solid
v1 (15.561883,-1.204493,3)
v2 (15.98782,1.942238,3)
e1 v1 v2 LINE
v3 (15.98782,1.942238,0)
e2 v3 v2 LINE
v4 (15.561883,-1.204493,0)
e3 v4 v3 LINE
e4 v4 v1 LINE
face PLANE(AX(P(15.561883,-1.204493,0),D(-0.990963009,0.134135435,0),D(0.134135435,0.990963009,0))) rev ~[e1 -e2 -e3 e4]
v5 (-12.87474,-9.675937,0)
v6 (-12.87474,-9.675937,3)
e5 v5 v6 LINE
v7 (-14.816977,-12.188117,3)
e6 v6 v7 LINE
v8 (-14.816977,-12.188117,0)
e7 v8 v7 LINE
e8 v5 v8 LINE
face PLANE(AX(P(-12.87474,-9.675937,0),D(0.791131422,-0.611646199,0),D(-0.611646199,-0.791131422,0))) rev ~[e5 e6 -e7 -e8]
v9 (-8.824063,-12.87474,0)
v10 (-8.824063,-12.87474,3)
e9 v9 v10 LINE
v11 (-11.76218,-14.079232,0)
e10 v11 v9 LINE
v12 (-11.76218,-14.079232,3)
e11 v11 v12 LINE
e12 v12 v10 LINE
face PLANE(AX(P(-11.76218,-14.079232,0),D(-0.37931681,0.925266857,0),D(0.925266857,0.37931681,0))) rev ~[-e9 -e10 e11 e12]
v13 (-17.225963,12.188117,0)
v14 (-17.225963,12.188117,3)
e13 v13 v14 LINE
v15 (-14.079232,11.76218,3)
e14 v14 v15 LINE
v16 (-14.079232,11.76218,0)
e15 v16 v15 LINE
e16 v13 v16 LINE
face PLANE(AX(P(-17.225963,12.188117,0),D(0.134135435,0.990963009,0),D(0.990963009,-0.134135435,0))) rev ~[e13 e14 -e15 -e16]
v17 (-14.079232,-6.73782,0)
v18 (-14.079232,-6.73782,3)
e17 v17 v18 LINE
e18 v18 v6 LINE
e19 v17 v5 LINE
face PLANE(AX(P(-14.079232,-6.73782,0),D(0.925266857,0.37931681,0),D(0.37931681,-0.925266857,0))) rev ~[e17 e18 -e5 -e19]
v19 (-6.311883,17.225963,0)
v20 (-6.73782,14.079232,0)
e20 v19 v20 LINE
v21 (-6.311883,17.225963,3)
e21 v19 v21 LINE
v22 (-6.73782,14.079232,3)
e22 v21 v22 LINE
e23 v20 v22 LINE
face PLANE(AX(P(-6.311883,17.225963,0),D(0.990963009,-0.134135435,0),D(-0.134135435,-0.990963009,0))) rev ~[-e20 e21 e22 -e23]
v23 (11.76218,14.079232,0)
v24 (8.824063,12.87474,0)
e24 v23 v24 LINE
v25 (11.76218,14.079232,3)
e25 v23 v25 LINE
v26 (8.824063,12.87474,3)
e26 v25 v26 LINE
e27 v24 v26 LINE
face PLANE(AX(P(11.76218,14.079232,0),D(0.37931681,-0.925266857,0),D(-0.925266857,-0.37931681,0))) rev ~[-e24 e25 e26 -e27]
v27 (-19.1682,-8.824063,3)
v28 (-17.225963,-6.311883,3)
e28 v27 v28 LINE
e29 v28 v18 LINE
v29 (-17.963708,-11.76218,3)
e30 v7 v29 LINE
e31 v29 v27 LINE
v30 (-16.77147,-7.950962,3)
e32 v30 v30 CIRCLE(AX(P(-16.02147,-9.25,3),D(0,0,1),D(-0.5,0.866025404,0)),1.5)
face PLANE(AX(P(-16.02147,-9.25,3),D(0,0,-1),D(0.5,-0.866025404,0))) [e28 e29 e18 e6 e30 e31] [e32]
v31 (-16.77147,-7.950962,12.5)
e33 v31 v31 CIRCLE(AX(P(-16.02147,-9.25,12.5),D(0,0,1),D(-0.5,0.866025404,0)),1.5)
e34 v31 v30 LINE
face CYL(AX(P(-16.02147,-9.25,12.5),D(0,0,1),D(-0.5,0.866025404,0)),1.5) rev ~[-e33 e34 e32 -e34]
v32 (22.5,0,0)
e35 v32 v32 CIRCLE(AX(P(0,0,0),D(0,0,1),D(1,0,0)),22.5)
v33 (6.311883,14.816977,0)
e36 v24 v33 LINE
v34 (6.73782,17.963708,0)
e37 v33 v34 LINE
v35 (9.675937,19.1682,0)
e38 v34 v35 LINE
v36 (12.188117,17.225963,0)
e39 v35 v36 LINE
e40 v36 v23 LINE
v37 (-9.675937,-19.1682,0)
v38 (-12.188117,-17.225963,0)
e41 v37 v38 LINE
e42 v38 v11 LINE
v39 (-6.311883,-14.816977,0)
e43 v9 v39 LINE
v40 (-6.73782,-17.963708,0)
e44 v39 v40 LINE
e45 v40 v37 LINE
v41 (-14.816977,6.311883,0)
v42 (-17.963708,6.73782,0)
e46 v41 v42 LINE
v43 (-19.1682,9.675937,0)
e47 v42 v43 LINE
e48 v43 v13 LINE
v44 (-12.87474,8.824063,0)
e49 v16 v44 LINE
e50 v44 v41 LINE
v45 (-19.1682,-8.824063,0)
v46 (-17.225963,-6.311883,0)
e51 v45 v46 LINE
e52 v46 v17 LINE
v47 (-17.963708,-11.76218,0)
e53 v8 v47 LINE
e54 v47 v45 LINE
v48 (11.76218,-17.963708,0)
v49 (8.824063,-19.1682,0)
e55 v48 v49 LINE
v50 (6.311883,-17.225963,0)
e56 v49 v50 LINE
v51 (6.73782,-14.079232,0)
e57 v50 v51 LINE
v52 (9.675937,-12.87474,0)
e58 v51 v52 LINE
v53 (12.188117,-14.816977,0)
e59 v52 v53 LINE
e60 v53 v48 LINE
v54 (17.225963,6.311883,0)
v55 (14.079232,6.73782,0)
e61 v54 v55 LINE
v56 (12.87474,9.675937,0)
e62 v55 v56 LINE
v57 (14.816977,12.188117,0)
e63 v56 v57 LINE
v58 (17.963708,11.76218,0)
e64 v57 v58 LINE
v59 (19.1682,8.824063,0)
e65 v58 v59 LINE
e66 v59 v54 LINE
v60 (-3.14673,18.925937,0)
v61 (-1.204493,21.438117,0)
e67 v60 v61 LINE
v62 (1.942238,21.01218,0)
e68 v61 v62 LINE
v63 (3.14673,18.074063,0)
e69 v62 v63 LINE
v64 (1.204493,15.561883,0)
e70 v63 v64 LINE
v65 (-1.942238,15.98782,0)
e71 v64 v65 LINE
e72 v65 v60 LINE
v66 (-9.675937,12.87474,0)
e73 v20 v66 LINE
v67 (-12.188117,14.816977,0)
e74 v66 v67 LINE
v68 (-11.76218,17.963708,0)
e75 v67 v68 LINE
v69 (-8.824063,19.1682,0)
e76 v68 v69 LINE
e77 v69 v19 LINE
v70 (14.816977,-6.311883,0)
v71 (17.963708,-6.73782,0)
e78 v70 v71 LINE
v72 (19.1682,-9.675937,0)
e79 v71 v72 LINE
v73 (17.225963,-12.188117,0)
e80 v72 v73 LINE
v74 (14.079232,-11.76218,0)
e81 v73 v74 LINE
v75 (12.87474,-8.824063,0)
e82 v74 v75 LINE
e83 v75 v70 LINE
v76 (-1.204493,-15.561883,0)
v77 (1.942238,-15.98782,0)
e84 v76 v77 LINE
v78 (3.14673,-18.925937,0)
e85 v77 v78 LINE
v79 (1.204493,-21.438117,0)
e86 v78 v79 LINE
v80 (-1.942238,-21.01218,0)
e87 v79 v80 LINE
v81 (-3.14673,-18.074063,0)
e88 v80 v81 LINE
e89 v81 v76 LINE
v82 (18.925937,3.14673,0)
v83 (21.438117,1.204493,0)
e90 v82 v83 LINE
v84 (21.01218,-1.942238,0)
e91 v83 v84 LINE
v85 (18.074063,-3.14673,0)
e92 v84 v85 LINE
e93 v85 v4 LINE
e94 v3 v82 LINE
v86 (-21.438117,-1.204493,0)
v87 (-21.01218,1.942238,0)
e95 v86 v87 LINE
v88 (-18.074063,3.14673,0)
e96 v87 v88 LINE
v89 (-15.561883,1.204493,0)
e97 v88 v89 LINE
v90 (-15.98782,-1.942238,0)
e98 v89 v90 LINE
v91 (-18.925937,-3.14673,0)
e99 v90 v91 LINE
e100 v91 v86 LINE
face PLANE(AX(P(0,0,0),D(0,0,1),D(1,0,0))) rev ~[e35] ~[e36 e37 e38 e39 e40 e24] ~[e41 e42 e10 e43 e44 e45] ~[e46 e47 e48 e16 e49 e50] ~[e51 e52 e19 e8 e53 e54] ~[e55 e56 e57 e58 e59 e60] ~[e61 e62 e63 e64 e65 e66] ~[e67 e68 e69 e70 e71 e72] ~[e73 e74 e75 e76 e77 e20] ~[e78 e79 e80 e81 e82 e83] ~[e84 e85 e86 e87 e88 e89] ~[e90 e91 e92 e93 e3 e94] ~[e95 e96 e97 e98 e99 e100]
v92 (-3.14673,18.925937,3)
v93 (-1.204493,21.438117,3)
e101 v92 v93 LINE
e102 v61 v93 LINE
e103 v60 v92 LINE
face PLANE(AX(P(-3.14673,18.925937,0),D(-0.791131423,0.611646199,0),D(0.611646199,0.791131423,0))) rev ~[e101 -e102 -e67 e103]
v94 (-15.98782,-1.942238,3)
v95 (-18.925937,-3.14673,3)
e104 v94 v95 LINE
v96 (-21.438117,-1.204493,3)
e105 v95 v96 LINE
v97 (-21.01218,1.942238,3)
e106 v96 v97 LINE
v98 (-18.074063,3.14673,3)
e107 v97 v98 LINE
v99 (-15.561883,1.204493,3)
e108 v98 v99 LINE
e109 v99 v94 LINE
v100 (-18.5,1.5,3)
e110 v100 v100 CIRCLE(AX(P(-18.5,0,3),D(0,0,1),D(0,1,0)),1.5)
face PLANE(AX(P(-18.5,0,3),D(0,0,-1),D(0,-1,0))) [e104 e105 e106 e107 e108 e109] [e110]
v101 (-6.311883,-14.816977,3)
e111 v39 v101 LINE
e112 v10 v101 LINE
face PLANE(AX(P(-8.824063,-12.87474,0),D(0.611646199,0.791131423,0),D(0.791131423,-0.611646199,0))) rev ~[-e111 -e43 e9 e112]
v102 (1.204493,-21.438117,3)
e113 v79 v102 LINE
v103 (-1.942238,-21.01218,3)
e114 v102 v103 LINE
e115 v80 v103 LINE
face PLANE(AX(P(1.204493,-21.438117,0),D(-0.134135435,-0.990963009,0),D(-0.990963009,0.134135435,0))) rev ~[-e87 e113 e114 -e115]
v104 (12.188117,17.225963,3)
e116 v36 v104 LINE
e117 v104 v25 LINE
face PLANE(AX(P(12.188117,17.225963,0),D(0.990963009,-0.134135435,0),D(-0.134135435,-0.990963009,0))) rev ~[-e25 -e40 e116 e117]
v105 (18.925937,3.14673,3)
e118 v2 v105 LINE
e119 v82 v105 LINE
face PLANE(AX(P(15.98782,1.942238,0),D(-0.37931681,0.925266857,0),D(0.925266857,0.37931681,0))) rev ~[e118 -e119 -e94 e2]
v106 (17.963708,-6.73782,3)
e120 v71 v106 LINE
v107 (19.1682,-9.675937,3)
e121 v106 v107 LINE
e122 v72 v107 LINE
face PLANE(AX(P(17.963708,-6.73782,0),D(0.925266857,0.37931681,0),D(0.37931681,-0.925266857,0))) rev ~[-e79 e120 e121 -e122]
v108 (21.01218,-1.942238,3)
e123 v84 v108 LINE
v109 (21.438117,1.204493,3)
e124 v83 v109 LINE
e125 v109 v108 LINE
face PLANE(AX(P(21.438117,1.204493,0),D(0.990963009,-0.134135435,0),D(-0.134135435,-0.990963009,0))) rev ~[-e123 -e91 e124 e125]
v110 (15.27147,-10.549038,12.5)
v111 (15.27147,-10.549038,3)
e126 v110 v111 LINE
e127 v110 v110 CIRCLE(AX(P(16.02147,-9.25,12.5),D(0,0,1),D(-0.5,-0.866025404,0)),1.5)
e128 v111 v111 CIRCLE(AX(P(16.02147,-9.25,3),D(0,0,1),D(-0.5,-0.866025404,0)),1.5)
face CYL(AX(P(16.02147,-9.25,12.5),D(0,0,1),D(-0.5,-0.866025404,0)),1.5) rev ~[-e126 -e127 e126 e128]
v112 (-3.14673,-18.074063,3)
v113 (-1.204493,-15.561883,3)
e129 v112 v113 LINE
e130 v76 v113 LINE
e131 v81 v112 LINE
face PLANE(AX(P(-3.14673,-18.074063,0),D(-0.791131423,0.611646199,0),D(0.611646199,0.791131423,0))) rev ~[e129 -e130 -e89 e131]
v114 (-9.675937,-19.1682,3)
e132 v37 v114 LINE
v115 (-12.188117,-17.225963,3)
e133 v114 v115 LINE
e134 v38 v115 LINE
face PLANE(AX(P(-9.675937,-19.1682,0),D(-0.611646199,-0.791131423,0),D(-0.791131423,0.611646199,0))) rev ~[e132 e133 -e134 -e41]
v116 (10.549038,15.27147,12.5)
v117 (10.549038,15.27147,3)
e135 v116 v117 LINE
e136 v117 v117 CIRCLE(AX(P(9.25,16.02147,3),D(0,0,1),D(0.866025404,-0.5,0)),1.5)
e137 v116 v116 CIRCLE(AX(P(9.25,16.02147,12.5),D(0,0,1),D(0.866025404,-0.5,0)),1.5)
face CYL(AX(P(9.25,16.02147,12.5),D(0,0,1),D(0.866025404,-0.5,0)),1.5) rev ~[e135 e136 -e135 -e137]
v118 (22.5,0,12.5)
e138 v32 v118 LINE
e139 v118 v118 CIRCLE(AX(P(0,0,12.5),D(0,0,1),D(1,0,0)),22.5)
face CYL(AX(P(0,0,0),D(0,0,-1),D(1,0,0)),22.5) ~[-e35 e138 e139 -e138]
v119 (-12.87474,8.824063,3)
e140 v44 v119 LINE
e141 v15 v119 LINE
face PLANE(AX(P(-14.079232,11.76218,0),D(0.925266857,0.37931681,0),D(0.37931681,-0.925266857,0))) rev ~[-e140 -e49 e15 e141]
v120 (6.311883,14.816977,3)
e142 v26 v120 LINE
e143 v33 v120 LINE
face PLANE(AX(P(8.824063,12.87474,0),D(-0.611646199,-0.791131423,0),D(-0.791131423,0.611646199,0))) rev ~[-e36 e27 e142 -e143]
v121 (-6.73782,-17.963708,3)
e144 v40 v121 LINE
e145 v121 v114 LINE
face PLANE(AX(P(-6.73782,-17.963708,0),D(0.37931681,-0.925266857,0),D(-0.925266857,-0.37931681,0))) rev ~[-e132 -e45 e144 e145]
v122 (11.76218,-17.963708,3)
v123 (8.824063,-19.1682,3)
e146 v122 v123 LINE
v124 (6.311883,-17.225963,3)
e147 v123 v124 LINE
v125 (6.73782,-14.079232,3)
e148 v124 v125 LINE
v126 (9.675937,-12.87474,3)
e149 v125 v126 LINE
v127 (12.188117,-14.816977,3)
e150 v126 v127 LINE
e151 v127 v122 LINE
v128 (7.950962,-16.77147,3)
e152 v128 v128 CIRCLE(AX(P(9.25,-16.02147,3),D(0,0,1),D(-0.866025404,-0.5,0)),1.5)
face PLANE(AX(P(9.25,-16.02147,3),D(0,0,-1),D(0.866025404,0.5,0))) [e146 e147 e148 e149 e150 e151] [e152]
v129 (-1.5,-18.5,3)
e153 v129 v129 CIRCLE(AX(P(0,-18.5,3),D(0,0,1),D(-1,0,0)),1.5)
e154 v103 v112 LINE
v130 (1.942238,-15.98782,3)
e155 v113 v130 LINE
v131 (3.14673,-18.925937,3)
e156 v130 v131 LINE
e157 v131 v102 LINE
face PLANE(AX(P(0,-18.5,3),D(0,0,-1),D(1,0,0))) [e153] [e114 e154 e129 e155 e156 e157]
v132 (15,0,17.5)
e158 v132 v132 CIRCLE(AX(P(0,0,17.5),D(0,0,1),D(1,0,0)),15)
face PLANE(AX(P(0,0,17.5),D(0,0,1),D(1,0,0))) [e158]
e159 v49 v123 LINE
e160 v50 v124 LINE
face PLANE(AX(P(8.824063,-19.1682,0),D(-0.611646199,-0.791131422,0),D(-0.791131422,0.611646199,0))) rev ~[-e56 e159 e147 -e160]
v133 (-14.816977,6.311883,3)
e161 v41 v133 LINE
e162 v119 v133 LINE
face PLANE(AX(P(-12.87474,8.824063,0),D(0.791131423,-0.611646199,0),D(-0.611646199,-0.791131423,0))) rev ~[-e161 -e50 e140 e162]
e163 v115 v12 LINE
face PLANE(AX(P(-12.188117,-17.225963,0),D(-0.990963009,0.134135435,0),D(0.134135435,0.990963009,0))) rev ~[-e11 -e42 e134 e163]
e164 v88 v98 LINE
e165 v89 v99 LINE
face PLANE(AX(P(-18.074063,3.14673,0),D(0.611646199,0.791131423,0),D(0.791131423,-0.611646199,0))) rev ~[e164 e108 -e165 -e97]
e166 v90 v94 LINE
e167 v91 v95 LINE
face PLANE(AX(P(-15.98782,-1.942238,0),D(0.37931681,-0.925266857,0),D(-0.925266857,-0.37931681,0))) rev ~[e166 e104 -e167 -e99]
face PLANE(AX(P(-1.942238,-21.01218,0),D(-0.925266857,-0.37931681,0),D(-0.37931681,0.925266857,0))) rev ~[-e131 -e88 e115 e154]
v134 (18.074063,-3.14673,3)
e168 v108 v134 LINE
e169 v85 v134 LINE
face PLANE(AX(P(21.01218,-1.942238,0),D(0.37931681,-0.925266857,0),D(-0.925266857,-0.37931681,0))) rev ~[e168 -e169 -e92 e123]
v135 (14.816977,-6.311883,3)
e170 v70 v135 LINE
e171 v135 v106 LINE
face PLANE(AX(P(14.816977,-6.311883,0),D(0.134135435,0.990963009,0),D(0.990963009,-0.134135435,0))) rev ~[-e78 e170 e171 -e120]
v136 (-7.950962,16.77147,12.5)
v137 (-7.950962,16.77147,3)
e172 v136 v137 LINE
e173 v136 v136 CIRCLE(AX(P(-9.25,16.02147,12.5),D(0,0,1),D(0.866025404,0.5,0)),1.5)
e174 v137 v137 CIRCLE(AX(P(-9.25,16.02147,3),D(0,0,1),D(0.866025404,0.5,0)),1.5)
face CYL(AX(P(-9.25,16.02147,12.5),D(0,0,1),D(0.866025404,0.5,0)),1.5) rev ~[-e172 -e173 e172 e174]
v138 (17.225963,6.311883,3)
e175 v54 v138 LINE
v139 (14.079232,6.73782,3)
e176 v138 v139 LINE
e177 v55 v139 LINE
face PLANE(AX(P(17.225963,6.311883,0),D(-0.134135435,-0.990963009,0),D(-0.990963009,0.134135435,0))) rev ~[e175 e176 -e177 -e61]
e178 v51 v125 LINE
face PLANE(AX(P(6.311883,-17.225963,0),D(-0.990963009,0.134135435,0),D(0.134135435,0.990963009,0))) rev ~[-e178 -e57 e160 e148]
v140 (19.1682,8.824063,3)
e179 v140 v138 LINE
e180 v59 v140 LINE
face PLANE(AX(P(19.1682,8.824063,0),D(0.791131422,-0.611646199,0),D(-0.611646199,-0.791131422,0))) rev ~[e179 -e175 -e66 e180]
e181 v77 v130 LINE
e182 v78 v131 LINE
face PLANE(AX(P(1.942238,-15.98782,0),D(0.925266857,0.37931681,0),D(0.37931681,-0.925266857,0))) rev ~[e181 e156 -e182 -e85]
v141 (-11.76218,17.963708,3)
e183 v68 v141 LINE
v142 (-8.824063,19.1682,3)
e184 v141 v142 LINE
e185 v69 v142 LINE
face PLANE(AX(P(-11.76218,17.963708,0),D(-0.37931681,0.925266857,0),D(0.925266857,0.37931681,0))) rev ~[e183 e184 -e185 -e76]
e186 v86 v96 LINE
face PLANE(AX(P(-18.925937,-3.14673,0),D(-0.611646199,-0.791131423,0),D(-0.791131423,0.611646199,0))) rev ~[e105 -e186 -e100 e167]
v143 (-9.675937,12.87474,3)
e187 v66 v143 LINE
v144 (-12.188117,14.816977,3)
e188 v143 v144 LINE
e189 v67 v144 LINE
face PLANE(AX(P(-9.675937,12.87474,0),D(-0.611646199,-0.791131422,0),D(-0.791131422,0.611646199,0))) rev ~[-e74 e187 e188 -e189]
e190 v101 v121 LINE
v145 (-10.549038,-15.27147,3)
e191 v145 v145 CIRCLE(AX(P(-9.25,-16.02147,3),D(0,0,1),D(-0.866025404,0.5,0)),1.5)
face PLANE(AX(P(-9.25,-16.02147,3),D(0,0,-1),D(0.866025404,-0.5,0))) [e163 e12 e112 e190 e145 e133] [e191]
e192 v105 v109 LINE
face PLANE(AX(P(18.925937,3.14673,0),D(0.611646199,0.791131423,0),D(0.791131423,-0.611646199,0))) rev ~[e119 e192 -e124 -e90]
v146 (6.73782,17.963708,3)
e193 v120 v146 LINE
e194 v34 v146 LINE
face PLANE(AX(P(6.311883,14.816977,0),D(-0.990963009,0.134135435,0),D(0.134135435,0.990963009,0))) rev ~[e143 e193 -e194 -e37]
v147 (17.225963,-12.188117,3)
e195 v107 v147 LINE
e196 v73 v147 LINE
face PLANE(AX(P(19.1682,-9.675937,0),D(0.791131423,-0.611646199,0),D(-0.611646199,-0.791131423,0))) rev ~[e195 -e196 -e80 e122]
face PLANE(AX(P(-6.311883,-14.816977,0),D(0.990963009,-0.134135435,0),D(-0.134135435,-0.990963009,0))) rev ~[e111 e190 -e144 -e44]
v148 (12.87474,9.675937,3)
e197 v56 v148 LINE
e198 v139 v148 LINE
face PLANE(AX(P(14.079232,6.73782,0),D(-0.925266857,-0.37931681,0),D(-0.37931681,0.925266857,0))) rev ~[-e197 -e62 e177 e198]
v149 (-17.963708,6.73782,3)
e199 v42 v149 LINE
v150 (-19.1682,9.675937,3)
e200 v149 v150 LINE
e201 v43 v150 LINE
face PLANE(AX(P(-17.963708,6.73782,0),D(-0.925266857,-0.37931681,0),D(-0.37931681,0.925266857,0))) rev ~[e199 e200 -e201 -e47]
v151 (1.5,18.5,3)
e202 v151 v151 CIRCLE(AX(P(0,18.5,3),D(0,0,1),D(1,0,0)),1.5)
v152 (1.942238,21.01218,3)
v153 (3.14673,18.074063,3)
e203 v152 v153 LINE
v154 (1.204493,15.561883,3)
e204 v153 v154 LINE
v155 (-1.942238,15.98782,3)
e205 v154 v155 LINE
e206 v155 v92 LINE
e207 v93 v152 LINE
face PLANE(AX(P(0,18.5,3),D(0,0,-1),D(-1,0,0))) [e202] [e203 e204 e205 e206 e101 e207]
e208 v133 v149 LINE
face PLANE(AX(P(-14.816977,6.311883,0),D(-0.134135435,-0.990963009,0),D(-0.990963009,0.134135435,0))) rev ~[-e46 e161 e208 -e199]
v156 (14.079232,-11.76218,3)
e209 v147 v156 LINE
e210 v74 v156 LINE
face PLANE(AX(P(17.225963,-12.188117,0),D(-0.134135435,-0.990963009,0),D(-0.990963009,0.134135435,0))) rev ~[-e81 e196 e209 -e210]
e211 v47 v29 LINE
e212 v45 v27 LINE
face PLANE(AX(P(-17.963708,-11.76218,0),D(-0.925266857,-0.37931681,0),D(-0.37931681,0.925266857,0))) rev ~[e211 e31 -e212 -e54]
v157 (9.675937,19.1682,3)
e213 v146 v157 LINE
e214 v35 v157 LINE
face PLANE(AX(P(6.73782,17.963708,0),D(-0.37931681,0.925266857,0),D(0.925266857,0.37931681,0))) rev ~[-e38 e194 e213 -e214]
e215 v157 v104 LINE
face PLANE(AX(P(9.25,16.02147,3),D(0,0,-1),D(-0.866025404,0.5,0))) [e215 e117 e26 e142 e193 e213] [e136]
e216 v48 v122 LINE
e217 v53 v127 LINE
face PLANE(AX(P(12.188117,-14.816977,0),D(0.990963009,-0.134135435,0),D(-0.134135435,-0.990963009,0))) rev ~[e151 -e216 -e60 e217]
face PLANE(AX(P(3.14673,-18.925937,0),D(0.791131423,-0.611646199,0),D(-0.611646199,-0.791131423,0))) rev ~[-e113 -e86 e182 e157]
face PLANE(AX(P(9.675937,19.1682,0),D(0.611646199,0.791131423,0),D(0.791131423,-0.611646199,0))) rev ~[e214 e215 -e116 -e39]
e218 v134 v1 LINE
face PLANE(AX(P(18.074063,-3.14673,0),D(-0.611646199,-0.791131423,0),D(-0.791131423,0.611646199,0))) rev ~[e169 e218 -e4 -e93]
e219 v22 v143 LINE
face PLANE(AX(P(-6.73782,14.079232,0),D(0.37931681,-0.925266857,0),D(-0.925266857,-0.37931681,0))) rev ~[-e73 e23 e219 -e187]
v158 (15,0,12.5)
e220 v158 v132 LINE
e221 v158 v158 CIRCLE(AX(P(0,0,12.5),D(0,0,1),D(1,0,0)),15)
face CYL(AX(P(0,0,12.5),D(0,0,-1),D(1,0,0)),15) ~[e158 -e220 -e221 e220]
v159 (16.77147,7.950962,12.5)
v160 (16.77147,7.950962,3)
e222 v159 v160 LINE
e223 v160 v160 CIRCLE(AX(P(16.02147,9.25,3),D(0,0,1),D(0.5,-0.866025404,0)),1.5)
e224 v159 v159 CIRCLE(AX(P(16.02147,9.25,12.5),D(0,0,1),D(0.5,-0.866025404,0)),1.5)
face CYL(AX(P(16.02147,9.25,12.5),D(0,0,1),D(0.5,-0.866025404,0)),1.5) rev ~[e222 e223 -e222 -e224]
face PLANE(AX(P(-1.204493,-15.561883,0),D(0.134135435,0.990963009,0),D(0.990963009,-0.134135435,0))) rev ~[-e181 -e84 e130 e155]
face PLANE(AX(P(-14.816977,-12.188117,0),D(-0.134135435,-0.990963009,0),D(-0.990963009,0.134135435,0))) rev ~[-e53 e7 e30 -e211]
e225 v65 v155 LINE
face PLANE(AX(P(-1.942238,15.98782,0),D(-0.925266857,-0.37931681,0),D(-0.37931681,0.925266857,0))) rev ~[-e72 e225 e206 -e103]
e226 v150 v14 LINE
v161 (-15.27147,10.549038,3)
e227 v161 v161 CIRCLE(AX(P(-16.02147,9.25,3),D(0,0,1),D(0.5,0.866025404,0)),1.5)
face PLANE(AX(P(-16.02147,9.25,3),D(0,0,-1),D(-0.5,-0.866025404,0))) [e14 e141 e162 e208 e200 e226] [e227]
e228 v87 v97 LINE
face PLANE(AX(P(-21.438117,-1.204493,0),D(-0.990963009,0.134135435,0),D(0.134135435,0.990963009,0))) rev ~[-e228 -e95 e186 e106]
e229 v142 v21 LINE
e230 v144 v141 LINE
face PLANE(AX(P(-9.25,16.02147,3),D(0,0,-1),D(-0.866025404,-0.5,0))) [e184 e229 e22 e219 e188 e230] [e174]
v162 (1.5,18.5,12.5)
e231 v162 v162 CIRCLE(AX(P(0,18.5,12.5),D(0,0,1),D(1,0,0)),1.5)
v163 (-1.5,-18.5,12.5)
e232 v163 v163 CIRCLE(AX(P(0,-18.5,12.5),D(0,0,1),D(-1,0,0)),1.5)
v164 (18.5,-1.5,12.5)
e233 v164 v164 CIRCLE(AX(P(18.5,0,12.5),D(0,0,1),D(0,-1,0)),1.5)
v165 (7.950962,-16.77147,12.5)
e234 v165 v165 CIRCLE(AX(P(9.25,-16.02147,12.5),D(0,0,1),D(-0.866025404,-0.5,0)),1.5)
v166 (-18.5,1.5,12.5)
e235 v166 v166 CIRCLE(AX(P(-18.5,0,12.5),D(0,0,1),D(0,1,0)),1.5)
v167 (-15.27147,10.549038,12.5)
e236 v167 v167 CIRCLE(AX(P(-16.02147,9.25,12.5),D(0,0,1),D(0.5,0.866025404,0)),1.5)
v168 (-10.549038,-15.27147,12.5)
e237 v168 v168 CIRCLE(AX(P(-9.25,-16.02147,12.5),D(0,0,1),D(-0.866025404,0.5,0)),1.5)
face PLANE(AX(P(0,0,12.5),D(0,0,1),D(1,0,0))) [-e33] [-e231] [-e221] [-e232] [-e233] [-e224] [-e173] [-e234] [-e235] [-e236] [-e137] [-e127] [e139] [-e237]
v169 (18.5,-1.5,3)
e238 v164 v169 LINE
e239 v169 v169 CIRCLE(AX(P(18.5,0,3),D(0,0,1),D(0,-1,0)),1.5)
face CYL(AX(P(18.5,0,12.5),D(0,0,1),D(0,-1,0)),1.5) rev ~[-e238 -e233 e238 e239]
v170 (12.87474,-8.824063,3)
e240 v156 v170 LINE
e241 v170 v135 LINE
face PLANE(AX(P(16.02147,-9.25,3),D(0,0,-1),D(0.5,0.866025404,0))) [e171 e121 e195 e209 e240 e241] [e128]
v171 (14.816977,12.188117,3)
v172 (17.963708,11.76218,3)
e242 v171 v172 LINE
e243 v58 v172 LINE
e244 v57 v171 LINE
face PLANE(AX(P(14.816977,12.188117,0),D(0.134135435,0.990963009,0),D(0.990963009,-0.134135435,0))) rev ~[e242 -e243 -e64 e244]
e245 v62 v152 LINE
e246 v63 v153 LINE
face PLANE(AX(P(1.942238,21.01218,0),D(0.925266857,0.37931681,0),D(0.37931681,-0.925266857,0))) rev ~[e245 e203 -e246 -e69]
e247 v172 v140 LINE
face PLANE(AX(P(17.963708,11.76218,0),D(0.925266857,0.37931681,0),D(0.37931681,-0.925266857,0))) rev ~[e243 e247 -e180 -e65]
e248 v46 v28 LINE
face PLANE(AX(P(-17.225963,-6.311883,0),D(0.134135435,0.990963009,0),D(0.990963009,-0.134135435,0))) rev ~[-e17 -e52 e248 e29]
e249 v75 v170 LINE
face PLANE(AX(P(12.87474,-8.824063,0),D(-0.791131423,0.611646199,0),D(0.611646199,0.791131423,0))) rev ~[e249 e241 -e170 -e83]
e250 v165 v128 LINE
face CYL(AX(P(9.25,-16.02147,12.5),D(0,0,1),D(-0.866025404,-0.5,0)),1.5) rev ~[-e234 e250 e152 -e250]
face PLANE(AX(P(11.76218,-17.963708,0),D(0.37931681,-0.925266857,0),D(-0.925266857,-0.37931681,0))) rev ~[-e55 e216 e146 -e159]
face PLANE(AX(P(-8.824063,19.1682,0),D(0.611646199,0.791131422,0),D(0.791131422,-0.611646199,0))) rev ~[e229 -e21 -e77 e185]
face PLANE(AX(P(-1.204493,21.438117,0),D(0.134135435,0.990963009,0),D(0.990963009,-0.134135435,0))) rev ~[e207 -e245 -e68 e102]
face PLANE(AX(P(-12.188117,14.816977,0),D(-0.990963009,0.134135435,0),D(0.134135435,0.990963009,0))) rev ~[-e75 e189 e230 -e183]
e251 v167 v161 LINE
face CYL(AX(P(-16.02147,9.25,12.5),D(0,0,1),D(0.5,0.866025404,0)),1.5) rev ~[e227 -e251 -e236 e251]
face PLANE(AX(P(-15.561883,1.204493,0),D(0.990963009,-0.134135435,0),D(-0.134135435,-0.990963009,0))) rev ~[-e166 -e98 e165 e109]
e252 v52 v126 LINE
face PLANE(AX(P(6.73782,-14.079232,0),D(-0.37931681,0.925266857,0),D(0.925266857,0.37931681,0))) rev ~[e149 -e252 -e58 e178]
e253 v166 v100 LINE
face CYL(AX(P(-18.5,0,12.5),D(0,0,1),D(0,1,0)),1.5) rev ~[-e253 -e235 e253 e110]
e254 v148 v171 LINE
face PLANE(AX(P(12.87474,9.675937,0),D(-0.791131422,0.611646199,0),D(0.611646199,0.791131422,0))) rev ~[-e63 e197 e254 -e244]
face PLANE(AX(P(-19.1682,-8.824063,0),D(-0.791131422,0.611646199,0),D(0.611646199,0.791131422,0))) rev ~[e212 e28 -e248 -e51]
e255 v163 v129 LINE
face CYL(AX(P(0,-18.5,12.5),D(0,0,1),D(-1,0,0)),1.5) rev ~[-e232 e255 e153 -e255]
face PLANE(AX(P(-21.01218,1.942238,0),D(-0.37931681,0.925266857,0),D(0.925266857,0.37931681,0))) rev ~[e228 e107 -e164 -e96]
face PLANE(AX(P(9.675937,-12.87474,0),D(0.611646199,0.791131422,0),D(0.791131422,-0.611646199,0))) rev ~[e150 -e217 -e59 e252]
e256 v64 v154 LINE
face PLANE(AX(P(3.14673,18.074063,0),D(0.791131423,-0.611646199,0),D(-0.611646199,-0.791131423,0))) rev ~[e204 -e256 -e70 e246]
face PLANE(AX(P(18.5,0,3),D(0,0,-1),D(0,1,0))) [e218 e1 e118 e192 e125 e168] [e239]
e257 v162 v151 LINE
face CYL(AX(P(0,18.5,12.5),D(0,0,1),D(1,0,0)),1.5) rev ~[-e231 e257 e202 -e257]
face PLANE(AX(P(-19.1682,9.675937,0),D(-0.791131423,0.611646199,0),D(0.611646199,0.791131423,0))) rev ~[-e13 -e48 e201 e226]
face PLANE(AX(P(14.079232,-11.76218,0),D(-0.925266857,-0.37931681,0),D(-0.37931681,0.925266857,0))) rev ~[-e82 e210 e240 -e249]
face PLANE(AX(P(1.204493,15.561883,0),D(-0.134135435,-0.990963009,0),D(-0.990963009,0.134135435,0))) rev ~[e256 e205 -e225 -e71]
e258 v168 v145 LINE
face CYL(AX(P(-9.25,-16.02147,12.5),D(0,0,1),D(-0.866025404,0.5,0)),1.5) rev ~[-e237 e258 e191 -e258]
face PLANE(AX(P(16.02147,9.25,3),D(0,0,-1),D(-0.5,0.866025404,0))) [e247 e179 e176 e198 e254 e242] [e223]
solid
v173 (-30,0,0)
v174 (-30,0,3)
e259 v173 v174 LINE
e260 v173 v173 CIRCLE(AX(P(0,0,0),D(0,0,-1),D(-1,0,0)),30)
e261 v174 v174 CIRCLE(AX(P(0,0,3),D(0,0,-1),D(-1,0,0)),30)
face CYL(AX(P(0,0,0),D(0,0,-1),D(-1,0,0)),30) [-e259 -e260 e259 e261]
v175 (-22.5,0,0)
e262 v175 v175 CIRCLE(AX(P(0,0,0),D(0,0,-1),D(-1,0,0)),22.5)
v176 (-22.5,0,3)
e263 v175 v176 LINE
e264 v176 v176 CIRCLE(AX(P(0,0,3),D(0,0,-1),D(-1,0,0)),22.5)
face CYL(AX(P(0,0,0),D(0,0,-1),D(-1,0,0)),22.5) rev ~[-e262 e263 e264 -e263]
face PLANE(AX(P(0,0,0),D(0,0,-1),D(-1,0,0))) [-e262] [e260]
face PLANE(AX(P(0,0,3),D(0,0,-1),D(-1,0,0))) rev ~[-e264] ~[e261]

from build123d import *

# Parameters (mm, degrees)
SKETCH_1_R               = 22.5
EXTRUDE_1_DEPTH          = 12.5
SKETCH_2_R               = 15
EXTRUDE_2_DEPTH          = 5
SKETCH_3_R               = 1.5
CUT_EXTRUDE_1_DEPTH      = 5
SKETCH_5_R               = 1.5
CUT_EXTRUDE_2_DEPTH      = 35.186985828
CUT_EXTRUDE_6_DEPTH      = 3
PATTERN_CIRCULAR_1_COUNT = 12
SKETCH_10_R              = 30
SKETCH_10_R_2            = 22.5
EXTRUDE_3_DEPTH          = 3


with BuildPart() as part:
    # 草图1 → 凸台-拉伸1 (new body)
    with BuildSketch(Plane.XY):
        Circle(SKETCH_1_R)
    extrude(amount=EXTRUDE_1_DEPTH)

    # 草图2 → 凸台-拉伸2 (add)
    with BuildSketch(Plane.XY.offset(12.5)):
        Circle(SKETCH_2_R)
    extrude(amount=EXTRUDE_2_DEPTH)

    # 草图3 → 切除-拉伸1 (cut)
    with BuildSketch(Plane.XY.offset(12.5)):
        with Locations((0, 18.5)):
            Circle(SKETCH_3_R)
    cut_extrude_1 = extrude(amount=-CUT_EXTRUDE_1_DEPTH, mode=Mode.SUBTRACT)

    # 草图5 → 切除-拉伸2 (cut, through all)
    with BuildSketch(Plane.XY.offset(12.5)):
        with Locations((0, 18.5)):
            Circle(SKETCH_5_R)
    cut_extrude_2 = extrude(amount=-CUT_EXTRUDE_2_DEPTH, mode=Mode.SUBTRACT)

    # 草图9 → 切除-拉伸6 (cut)
    with BuildSketch(Plane(origin=(0, 0, 0), x_dir=(-1, 0, 0), z_dir=(0, 0, -1))):
        Polygon((1.204492644, 21.438116881), (-1.942237536, 21.012179669), (-3.14673018, 18.074062788), (-1.204492644, 15.561883119), (1.942237536, 15.987820331), (3.14673018, 18.925937212), align=None)
    cut_extrude_6 = extrude(amount=-CUT_EXTRUDE_6_DEPTH, mode=Mode.SUBTRACT)

    # 阵列(圆周)1: 切除-拉伸1, 切除-拉伸2, 切除-拉伸6 ×12 about axis
    pattern_circular_1_axis = Axis((0, 0, 0), (0, 0, 1))
    add([cut_extrude_1.rotate(pattern_circular_1_axis, i * 360 / PATTERN_CIRCULAR_1_COUNT) for i in range(1, PATTERN_CIRCULAR_1_COUNT)], mode=Mode.SUBTRACT)
    add([cut_extrude_2.rotate(pattern_circular_1_axis, i * 360 / PATTERN_CIRCULAR_1_COUNT) for i in range(1, PATTERN_CIRCULAR_1_COUNT)], mode=Mode.SUBTRACT)
    add([cut_extrude_6.rotate(pattern_circular_1_axis, i * 360 / PATTERN_CIRCULAR_1_COUNT) for i in range(1, PATTERN_CIRCULAR_1_COUNT)], mode=Mode.SUBTRACT)


with BuildPart() as body_2:
    # 草图10 → 凸台-拉伸3 (new body)
    with BuildSketch(Plane(origin=(0, 0, 0), x_dir=(-1, 0, 0), z_dir=(0, 0, -1))):
        Circle(SKETCH_10_R)
        Circle(SKETCH_10_R_2, mode=Mode.SUBTRACT)
    extrude(amount=-EXTRUDE_3_DEPTH)


solid = Compound([part.part, body_2.part])
